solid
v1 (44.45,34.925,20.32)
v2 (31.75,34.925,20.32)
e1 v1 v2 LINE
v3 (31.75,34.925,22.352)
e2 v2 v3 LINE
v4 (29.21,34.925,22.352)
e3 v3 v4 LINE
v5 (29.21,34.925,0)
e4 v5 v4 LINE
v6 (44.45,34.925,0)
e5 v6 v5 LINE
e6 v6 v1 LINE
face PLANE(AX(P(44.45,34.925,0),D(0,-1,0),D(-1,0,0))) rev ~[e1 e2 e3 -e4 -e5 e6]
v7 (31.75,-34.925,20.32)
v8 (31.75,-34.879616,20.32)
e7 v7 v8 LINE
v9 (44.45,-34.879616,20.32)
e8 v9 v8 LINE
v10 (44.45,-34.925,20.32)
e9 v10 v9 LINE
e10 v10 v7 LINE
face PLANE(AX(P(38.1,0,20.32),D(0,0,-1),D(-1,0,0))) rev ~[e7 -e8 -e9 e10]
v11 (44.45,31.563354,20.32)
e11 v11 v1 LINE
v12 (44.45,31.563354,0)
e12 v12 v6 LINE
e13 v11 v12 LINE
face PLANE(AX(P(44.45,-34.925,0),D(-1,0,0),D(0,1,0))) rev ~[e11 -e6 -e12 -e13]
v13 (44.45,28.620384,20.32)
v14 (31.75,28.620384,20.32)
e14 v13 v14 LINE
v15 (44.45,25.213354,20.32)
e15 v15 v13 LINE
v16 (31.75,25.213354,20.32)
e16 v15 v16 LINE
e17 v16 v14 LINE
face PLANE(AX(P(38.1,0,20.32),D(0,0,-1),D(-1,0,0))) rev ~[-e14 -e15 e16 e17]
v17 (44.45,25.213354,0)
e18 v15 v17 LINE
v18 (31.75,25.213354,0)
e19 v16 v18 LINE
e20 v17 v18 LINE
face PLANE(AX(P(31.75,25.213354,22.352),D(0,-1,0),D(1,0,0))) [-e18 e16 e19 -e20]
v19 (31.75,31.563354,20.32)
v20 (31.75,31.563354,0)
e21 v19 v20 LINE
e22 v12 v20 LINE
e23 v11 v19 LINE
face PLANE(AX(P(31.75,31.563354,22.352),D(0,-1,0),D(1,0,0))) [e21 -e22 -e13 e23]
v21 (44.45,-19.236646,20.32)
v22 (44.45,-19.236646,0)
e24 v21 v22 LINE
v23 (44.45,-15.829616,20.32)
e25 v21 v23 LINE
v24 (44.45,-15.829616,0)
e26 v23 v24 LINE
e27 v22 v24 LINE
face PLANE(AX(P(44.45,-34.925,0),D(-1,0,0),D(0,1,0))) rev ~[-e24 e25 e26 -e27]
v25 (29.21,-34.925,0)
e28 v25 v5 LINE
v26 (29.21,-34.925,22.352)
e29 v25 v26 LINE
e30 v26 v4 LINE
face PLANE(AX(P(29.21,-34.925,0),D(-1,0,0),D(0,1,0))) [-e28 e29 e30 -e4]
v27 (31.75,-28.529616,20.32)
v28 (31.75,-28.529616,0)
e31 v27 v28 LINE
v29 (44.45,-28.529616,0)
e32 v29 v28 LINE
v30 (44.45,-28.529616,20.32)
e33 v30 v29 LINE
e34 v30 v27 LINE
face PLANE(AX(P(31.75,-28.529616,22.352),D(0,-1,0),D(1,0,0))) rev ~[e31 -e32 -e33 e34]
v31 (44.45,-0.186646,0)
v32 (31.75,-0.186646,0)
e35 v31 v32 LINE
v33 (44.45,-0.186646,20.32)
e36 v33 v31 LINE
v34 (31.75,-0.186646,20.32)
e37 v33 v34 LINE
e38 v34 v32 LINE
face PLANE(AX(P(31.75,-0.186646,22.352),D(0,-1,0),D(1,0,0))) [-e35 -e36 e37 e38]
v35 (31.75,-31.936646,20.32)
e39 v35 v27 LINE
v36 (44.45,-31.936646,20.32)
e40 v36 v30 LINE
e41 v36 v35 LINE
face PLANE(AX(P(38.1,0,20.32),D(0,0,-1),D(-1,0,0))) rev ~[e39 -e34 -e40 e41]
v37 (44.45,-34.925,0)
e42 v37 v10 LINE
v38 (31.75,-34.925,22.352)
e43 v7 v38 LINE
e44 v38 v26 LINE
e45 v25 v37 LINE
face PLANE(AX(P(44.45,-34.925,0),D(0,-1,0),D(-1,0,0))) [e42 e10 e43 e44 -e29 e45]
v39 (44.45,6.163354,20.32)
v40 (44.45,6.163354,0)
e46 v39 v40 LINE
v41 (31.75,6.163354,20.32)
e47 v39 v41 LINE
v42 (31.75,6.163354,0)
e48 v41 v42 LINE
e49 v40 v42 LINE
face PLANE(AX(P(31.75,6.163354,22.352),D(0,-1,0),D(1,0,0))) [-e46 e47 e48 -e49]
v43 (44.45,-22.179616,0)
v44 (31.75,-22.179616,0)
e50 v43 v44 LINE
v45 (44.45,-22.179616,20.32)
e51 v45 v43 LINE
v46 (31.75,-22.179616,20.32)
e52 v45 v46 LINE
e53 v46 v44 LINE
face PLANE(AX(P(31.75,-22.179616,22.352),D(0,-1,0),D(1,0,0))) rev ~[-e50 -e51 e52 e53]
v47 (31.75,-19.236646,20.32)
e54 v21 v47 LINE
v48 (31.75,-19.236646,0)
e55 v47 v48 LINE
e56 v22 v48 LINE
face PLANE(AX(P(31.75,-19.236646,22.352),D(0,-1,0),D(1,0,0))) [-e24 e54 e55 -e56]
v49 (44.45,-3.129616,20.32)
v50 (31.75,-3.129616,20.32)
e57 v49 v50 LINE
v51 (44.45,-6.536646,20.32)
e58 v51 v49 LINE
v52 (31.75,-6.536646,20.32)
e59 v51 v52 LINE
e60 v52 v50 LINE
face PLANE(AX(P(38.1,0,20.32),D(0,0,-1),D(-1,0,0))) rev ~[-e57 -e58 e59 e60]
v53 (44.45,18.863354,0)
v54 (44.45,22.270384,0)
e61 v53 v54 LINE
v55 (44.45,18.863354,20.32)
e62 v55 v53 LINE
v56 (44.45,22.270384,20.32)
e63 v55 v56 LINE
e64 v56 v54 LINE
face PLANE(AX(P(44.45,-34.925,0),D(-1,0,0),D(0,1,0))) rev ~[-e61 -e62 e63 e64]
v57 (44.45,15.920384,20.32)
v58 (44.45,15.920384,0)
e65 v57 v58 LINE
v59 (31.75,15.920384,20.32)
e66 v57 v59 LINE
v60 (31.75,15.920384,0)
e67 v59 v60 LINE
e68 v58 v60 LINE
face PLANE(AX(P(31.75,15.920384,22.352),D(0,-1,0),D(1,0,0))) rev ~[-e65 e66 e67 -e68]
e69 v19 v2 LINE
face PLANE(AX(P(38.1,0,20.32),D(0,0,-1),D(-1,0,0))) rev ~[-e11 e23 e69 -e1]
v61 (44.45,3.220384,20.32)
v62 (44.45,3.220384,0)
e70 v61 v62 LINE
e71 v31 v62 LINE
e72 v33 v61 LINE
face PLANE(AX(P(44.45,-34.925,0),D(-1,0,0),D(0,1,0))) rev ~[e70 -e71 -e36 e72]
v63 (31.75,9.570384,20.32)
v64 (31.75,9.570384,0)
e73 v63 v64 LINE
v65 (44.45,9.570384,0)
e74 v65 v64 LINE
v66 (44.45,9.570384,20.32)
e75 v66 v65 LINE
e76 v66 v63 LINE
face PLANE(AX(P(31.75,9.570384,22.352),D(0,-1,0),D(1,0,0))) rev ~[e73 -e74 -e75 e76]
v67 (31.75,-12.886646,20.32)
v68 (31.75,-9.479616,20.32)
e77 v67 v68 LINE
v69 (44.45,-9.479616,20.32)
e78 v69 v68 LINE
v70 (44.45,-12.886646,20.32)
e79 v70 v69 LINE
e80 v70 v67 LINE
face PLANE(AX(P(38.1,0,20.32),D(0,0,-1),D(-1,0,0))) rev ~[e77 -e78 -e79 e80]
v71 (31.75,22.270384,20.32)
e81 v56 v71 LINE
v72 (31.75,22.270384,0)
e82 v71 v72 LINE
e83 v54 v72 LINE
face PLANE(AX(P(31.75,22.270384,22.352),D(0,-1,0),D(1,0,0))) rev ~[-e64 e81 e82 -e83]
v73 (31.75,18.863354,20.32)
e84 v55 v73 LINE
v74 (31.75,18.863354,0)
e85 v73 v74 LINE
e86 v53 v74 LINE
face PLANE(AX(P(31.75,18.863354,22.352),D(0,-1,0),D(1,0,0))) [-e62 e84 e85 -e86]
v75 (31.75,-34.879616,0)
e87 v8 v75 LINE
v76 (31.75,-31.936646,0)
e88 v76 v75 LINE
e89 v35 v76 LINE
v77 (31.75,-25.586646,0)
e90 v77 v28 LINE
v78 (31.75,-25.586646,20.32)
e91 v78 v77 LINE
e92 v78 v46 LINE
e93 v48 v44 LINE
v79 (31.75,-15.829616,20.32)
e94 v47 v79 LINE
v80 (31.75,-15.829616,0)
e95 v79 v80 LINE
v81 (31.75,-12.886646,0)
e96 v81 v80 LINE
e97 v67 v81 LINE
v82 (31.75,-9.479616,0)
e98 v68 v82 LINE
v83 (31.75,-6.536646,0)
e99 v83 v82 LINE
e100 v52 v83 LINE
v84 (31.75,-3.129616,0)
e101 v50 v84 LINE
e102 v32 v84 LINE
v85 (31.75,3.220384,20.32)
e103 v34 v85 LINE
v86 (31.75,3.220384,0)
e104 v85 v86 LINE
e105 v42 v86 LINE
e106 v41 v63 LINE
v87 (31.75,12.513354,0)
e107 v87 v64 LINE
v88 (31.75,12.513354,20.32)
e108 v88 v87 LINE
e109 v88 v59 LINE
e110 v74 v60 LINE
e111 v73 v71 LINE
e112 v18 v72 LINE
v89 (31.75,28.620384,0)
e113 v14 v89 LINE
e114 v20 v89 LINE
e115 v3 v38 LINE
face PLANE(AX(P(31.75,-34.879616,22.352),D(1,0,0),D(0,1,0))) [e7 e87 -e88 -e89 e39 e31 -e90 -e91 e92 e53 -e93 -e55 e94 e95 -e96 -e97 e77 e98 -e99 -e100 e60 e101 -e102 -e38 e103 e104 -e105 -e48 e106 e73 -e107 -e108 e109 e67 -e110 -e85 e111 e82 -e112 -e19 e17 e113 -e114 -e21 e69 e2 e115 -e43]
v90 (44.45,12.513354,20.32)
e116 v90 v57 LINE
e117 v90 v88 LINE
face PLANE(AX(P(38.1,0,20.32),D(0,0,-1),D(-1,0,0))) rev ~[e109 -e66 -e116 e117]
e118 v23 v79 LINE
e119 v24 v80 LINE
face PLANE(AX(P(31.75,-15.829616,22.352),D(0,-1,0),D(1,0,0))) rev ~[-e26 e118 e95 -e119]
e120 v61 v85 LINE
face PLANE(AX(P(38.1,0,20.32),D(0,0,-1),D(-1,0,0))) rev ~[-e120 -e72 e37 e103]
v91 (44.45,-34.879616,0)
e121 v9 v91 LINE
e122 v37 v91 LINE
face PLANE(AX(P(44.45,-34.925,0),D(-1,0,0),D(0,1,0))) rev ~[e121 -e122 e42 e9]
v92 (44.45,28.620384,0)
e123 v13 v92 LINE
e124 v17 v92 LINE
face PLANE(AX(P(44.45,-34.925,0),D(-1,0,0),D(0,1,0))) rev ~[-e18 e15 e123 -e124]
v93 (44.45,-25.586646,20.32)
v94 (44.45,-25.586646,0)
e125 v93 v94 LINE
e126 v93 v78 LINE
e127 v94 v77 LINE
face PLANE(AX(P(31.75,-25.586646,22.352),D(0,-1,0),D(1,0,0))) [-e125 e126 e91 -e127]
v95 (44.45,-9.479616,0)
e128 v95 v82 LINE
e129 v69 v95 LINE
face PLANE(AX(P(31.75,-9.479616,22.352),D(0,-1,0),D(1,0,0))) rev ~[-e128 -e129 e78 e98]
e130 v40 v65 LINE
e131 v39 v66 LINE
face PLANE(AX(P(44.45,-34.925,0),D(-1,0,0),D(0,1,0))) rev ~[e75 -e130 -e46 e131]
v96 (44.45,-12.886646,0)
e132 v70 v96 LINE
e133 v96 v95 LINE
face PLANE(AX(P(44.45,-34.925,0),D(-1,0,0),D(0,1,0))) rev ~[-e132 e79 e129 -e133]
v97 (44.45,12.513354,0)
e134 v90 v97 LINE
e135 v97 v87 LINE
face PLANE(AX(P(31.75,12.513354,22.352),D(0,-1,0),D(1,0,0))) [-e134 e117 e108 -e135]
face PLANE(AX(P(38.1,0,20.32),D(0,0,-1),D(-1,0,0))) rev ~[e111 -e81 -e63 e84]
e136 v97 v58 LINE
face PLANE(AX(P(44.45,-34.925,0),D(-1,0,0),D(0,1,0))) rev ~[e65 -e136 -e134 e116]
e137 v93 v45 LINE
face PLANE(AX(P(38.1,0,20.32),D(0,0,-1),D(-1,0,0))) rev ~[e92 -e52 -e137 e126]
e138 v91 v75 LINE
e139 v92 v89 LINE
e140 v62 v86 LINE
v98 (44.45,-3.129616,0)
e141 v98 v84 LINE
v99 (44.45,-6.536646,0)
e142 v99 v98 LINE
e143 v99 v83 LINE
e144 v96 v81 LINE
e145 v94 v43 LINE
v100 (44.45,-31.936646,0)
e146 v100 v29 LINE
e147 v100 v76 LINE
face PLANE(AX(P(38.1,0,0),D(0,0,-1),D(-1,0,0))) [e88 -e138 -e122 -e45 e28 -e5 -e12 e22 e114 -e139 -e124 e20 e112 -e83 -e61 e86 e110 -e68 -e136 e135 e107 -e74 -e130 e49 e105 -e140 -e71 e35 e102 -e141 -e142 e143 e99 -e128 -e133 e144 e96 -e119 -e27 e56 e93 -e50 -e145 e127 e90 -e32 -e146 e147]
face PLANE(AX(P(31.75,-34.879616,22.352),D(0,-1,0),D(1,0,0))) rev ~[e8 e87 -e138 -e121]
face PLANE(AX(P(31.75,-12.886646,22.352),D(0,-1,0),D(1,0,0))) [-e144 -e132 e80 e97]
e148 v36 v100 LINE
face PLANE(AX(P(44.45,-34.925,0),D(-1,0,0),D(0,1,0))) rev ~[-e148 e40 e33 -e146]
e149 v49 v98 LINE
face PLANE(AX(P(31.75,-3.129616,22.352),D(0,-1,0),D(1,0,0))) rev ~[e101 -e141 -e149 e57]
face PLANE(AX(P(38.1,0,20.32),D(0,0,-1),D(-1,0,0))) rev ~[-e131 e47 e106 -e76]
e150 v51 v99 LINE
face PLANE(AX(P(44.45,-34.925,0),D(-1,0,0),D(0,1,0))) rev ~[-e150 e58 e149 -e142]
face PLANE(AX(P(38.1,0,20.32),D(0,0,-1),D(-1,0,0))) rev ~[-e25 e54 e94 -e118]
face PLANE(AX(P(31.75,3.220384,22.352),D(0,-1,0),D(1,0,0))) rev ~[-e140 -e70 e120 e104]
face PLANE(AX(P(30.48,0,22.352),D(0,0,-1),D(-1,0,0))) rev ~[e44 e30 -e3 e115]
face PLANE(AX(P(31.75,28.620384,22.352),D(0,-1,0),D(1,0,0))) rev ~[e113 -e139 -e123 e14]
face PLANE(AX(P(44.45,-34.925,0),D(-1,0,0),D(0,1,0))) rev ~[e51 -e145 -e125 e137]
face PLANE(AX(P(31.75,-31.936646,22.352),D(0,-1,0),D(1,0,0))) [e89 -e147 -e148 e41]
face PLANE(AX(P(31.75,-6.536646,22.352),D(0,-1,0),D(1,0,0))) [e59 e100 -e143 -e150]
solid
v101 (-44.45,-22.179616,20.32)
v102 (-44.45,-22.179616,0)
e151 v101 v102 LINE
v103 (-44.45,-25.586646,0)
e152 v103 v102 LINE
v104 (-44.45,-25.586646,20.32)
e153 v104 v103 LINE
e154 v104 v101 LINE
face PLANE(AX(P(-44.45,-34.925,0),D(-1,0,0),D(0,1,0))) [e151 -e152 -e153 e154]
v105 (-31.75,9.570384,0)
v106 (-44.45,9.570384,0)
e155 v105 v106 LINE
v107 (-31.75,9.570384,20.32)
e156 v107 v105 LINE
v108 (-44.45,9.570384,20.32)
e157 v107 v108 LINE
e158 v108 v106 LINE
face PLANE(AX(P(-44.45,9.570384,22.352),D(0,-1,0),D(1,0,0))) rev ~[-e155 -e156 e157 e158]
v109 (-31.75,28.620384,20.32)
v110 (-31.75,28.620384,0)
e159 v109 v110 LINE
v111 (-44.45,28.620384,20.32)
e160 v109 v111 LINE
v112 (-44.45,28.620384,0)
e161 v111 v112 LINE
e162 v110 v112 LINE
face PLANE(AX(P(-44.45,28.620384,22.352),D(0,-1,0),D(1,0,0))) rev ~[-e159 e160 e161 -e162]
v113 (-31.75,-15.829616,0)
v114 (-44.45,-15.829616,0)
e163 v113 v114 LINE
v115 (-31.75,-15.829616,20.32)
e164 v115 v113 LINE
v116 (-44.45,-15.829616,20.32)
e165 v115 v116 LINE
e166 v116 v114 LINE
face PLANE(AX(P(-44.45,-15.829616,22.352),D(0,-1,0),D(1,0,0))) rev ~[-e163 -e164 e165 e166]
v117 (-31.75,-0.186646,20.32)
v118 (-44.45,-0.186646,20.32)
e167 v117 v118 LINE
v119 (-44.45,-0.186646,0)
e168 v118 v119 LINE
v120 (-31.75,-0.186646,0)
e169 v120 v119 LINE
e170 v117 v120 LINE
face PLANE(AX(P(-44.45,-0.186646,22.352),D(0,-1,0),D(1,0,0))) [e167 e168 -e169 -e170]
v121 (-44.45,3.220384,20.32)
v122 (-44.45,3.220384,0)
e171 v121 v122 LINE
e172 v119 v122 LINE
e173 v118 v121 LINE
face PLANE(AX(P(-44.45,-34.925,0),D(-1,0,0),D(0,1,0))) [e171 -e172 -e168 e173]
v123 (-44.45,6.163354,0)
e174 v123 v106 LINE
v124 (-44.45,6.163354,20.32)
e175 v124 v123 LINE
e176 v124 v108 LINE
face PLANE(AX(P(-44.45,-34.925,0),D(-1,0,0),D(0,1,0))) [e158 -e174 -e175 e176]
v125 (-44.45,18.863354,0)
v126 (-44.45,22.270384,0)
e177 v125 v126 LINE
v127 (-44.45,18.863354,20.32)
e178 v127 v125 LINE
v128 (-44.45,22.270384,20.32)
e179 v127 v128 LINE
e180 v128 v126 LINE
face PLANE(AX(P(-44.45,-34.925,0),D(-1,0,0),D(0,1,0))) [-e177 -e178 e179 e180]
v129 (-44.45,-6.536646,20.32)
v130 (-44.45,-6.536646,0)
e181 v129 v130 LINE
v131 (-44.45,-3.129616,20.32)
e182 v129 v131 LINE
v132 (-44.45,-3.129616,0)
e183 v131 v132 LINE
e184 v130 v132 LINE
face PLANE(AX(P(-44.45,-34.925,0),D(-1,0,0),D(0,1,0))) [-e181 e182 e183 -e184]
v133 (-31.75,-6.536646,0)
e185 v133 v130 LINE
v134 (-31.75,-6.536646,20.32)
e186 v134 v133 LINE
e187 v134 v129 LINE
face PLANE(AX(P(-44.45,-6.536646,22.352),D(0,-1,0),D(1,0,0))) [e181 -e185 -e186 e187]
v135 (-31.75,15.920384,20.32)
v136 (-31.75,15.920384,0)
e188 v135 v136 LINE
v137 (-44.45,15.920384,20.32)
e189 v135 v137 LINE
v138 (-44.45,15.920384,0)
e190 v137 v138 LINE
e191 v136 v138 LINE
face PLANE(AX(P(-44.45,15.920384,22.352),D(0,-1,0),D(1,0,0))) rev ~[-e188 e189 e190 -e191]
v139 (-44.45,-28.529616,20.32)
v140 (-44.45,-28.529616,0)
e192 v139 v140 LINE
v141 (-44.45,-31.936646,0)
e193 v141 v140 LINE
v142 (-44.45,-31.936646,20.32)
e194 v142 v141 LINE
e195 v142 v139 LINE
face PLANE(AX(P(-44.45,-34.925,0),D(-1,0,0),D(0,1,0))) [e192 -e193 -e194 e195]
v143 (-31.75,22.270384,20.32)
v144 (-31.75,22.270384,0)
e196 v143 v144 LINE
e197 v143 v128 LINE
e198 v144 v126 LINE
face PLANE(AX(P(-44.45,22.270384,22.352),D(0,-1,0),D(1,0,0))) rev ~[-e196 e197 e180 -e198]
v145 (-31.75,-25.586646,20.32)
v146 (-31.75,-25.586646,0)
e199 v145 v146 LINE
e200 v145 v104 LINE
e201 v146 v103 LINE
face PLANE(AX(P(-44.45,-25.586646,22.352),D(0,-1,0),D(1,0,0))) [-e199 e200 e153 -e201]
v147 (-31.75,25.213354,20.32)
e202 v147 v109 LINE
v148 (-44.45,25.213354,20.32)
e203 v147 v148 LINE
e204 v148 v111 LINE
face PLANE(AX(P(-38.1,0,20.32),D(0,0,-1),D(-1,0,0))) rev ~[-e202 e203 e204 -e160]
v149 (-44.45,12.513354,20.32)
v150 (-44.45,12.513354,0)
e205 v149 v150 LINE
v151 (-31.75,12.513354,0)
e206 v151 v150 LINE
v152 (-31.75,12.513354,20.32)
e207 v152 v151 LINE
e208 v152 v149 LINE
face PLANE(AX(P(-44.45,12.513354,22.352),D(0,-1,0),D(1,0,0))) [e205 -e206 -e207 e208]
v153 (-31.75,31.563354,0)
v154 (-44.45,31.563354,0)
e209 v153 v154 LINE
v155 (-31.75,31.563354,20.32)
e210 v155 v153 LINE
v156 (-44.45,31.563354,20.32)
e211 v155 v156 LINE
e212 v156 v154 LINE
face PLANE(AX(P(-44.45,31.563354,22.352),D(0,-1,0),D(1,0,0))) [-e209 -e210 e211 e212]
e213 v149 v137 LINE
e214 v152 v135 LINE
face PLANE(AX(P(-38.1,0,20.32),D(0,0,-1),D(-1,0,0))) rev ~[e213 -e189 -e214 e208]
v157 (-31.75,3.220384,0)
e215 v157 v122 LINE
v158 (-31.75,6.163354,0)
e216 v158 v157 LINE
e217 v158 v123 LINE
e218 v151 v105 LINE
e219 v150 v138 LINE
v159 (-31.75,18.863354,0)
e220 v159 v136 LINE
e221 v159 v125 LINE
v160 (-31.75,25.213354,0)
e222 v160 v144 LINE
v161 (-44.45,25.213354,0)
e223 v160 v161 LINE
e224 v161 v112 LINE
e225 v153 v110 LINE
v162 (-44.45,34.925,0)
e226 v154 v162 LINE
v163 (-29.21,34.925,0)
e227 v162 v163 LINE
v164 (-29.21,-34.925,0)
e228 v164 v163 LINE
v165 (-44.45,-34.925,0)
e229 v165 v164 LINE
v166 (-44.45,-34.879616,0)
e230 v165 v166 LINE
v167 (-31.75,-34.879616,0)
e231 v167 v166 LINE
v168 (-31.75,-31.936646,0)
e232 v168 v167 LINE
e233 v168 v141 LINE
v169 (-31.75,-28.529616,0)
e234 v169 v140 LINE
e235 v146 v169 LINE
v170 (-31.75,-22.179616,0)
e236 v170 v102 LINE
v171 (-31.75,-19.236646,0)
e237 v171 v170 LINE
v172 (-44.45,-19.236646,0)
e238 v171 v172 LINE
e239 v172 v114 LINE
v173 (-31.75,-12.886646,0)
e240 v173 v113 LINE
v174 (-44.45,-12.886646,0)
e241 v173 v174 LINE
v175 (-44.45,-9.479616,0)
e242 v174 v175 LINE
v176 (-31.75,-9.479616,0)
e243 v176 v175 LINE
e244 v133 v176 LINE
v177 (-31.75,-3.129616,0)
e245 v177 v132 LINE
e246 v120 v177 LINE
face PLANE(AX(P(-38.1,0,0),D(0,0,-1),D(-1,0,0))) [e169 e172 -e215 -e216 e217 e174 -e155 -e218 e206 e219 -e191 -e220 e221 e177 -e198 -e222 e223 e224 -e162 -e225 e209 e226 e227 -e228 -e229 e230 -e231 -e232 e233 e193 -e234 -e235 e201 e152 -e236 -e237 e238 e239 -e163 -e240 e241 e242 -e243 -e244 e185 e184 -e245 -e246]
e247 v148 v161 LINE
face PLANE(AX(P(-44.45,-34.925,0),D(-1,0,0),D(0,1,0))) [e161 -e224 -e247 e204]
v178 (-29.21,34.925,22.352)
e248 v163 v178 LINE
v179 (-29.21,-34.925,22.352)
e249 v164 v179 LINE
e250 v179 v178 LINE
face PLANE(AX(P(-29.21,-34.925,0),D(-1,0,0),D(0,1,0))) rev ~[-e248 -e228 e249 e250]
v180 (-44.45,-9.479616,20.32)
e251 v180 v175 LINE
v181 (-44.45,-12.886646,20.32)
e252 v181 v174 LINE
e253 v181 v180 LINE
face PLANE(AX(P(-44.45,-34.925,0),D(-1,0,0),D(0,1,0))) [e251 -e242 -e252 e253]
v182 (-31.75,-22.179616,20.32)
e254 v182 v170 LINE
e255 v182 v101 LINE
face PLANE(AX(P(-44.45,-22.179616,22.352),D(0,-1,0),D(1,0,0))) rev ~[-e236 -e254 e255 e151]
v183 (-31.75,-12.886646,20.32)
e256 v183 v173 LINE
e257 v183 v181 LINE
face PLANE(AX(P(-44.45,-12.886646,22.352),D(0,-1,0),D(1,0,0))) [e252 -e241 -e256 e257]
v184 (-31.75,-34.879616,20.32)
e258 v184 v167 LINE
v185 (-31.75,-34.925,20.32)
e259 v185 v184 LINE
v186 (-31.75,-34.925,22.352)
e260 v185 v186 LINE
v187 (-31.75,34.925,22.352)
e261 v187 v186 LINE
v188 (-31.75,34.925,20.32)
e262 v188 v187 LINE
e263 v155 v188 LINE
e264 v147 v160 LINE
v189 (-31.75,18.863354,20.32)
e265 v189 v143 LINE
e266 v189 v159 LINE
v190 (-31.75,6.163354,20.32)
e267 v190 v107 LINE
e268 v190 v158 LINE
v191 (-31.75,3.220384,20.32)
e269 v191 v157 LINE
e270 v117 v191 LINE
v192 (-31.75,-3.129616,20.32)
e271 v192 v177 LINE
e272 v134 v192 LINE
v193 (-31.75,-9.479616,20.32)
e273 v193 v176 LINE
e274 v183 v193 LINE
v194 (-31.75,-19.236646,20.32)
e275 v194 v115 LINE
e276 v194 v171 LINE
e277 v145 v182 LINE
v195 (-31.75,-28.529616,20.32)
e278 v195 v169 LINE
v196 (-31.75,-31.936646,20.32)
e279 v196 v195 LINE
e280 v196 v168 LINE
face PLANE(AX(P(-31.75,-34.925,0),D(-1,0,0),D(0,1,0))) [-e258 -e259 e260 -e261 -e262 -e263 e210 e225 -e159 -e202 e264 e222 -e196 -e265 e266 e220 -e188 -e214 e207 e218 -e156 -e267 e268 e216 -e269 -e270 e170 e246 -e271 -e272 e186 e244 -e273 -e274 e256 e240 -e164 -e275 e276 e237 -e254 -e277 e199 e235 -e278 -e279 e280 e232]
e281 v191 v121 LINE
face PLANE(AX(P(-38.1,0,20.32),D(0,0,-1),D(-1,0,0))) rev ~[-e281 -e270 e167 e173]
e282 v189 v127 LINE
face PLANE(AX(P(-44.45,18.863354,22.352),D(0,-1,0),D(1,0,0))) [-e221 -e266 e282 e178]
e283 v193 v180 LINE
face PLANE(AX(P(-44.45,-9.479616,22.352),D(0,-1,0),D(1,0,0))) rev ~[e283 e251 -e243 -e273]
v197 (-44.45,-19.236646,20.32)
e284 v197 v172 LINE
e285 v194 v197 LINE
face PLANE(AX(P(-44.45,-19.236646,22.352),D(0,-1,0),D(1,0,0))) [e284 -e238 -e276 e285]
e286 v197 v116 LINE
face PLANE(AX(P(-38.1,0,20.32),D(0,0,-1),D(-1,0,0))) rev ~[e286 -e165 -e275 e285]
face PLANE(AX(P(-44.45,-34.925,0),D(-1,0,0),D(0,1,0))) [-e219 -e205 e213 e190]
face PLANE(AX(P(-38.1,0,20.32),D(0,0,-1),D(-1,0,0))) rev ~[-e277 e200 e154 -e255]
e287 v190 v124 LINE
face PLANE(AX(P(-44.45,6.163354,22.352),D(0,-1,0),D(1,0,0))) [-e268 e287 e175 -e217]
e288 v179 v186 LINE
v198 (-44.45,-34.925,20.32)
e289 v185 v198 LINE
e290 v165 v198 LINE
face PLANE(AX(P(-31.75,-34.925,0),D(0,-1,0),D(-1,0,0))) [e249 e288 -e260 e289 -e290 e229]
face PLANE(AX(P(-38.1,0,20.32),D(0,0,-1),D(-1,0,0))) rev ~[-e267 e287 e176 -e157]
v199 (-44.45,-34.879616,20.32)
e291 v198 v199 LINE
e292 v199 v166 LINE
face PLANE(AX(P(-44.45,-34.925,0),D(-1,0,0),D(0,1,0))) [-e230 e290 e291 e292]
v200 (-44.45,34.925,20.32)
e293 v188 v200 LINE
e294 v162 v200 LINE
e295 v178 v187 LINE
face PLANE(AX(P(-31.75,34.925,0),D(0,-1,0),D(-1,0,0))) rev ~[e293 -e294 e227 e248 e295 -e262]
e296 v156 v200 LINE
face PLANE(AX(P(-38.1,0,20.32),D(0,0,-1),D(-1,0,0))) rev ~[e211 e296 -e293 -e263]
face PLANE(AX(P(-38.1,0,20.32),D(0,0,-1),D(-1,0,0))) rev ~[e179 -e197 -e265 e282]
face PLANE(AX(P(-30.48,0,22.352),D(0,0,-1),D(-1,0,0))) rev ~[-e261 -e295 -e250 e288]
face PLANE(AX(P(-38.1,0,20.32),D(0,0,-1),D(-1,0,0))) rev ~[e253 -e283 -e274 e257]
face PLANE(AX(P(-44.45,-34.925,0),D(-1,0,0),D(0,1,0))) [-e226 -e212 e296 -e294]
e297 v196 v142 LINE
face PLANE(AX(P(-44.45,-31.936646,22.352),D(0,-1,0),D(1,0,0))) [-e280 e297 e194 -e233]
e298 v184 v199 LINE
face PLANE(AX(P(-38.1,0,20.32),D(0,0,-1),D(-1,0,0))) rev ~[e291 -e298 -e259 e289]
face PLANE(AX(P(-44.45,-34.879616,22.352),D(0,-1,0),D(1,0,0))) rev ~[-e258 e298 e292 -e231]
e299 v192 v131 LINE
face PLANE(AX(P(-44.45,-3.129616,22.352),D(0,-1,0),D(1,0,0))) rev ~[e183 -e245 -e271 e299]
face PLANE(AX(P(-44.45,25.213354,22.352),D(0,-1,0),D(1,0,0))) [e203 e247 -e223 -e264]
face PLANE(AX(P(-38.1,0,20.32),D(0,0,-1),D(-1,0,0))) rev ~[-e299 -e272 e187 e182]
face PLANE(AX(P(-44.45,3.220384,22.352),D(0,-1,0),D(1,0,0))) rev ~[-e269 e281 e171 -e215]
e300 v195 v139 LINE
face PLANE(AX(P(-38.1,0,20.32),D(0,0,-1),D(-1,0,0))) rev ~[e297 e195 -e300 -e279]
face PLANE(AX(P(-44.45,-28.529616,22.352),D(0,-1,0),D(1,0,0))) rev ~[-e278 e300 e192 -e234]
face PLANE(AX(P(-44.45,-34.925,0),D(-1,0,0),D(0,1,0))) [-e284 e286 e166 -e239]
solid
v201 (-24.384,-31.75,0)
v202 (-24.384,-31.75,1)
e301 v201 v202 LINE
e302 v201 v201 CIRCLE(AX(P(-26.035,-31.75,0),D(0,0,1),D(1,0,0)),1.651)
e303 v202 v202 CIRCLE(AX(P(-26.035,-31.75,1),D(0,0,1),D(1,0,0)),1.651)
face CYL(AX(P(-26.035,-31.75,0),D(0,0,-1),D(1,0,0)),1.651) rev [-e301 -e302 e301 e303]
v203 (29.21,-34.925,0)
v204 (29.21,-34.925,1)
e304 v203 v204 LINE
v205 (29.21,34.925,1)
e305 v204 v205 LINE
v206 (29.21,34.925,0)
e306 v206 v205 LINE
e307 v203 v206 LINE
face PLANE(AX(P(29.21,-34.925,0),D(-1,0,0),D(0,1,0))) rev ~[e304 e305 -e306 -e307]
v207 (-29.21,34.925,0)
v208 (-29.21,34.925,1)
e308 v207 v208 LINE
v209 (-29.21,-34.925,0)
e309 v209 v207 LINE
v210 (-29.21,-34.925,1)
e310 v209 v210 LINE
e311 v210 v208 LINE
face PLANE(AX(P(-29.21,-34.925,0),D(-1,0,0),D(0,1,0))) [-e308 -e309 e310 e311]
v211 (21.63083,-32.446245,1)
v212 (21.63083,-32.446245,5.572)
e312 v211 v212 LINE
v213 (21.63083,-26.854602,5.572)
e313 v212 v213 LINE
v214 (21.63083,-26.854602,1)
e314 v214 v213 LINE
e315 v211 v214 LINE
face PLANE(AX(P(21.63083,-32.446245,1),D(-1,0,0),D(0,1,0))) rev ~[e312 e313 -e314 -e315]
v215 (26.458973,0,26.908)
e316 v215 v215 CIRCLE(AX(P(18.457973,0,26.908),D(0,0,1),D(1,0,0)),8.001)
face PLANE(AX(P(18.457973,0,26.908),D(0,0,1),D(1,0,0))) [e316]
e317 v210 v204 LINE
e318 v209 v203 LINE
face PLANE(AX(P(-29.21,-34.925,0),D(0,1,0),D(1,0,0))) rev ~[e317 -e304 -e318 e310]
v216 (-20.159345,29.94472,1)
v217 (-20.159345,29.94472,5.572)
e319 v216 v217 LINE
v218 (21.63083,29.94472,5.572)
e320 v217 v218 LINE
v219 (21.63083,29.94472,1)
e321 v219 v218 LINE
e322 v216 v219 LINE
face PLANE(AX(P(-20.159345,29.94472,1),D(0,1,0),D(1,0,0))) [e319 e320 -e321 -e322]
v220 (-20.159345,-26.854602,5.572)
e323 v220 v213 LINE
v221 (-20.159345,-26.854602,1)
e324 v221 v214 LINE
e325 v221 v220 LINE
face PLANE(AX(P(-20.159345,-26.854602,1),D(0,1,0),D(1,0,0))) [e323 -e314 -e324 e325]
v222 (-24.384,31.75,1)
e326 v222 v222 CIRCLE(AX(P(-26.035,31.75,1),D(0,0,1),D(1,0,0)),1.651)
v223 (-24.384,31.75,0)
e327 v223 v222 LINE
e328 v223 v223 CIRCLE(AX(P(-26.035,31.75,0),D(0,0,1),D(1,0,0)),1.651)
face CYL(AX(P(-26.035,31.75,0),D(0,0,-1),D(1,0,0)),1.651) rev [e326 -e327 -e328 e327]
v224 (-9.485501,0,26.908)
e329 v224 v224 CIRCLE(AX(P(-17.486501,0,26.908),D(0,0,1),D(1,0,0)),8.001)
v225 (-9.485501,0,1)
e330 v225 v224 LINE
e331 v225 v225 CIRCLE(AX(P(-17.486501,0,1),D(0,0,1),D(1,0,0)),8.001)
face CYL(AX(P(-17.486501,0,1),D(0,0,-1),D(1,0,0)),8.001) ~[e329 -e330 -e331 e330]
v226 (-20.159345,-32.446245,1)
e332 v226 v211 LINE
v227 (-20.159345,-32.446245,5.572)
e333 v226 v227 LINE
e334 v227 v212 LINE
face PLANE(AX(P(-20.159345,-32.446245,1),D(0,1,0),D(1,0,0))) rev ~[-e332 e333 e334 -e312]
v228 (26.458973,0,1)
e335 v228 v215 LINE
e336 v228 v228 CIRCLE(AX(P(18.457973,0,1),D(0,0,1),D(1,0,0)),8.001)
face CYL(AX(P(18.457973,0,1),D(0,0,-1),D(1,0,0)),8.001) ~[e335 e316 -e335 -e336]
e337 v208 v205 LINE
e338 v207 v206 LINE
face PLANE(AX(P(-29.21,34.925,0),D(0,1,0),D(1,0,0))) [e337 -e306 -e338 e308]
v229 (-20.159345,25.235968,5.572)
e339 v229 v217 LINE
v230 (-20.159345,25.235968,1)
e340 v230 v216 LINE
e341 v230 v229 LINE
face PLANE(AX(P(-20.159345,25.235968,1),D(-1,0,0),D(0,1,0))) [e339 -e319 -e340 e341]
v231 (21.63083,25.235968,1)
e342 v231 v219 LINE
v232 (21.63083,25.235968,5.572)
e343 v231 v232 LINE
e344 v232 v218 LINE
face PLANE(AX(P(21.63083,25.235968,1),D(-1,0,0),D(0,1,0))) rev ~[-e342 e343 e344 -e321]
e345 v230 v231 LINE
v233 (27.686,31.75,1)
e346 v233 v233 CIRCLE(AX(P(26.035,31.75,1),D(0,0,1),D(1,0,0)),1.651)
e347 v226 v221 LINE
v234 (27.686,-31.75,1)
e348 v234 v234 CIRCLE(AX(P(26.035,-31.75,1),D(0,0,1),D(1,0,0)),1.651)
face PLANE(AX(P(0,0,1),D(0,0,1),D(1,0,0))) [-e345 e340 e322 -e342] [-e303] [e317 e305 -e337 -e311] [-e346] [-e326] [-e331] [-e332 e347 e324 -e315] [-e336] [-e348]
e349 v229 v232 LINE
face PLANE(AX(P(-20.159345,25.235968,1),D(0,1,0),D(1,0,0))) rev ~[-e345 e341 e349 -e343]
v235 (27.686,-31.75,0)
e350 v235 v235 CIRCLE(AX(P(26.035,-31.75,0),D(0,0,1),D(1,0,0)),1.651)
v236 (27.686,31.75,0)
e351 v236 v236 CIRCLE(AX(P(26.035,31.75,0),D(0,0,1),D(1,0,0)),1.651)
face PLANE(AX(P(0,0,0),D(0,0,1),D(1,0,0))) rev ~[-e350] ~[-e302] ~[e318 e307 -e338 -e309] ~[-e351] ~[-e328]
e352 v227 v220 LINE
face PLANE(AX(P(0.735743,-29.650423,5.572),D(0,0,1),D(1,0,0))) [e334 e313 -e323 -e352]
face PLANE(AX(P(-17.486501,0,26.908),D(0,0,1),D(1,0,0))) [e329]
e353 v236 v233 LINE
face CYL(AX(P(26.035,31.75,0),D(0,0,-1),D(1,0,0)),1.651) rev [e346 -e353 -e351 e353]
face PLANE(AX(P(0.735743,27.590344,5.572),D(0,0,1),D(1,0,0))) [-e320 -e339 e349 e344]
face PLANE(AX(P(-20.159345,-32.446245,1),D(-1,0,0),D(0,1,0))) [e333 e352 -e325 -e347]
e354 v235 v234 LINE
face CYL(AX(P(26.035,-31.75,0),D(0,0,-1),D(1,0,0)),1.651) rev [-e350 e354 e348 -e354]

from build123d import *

# Parameters (mm, degrees)
SKETCH1_W             = 58.42
SKETCH1_H             = 69.85
SKETCH1_R             = 1.651
BOSS_EXTRUDE1_DEPTH   = 1
SKETCH2_W             = 2.54
SKETCH2_H             = 69.85
BOSS_EXTRUDE2_DEPTH   = 22.352
BOSS_EXTRUDE2_2_DEPTH = 22.352
SKETCH2_3_W           = 12.7
SKETCH2_3_H           = 69.85
BOSS_EXTRUDE3_DEPTH   = 20.32
SKETCH3_W             = 12.7
SKETCH3_H             = 2.942970032
CUT_EXTRUDE3_DEPTH    = 37.084
SKETCH4_R             = 8.001
BOSS_EXTRUDE4_DEPTH   = 25.908
SKETCH5_W             = 41.790174447
SKETCH5_H             = 4.70875205
SKETCH5_H_2           = 5.59164306
BOSS_EXTRUDE5_DEPTH   = 4.572


with BuildPart() as part:
    # Sketch1 → Boss-Extrude1 (new body)
    with BuildSketch(Plane.XY):
        Rectangle(SKETCH1_W, SKETCH1_H)
        with Locations((-26.035, 31.75)):
            Circle(SKETCH1_R, mode=Mode.SUBTRACT)
        with Locations((-26.035, -31.75)):
            Circle(SKETCH1_R, mode=Mode.SUBTRACT)
        with Locations((26.035, -31.75)):
            Circle(SKETCH1_R, mode=Mode.SUBTRACT)
        with Locations((26.035, 31.75)):
            Circle(SKETCH1_R, mode=Mode.SUBTRACT)
    extrude(amount=BOSS_EXTRUDE1_DEPTH)

    # Sketch4 → Boss-Extrude4 (add)
    with BuildSketch(Plane.XY.offset(1)):
        with Locations((-17.486501, 0)):
            Circle(SKETCH4_R)
        with Locations((18.457973277, 0)):
            Circle(SKETCH4_R)
    extrude(amount=BOSS_EXTRUDE4_DEPTH)

    # Sketch5 → Boss-Extrude5 (add)
    with BuildSketch(Plane.XY.offset(1)):
        with Locations((0.735742508, 27.590344045)):
            Rectangle(SKETCH5_W, SKETCH5_H)
        with Locations((0.735742508, -29.650423067)):
            Rectangle(SKETCH5_W, SKETCH5_H_2)
    extrude(amount=BOSS_EXTRUDE5_DEPTH)


with BuildPart() as body_2:
    # Sketch2 → Boss-Extrude2 (new body)
    with BuildSketch(Plane(origin=(0, 0, 0), x_dir=(-1, 0, 0), z_dir=(0, 0, -1))):
        with Locations((30.48, 0)):
            Rectangle(SKETCH2_W, SKETCH2_H)
    extrude(amount=-BOSS_EXTRUDE2_DEPTH)



with BuildPart() as body_3:
    # Sketch2 → Boss-Extrude2 2 (new body)
    with BuildSketch(Plane(origin=(0, 0, 0), x_dir=(-1, 0, 0), z_dir=(0, 0, -1))):
        with Locations((-30.48, 0)):
            Rectangle(SKETCH2_W, SKETCH2_H)
    extrude(amount=-BOSS_EXTRUDE2_2_DEPTH)


with BuildPart() as body_2_1:
    add(body_2.part)

    add(body_3.part)  # Boss-Extrude3 merges body 3
    # Sketch2<3> → Boss-Extrude3 (add)
    with BuildSketch(Plane(origin=(0, 0, 0), x_dir=(-1, 0, 0), z_dir=(0, 0, -1))):
        with Locations((38.1, 0)):
            Rectangle(SKETCH2_3_W, SKETCH2_3_H)
        with Locations((-38.1, 0)):
            Rectangle(SKETCH2_3_W, SKETCH2_3_H)
    extrude(amount=-BOSS_EXTRUDE3_DEPTH)

    # Sketch3 → Cut-Extrude3 (cut)
    with BuildSketch(Plane.XY.offset(22.352)):
        with Locations((-38.1, 30.091868572)):
            Rectangle(SKETCH3_W, SKETCH3_H)
        with Locations((-38.1, 23.741868572)):
            Rectangle(SKETCH3_W, SKETCH3_H)
        with Locations((-38.1, 17.391868572)):
            Rectangle(SKETCH3_W, SKETCH3_H)
        with Locations((-38.1, 11.041868572)):
            Rectangle(SKETCH3_W, SKETCH3_H)
        with Locations((-38.1, 4.691868572)):
            Rectangle(SKETCH3_W, SKETCH3_H)
        with Locations((-38.1, -8.008131428)):
            Rectangle(SKETCH3_W, SKETCH3_H)
        with Locations((-38.1, -14.358131428)):
            Rectangle(SKETCH3_W, SKETCH3_H)
        with Locations((-38.1, -20.708131428)):
            Rectangle(SKETCH3_W, SKETCH3_H)
        with Locations((-38.1, -27.058131428)):
            Rectangle(SKETCH3_W, SKETCH3_H)
        with Locations((38.1, -33.408131428)):
            Rectangle(SKETCH3_W, SKETCH3_H)
        with Locations((38.1, -27.058131428)):
            Rectangle(SKETCH3_W, SKETCH3_H)
        with Locations((38.1, -20.708131428)):
            Rectangle(SKETCH3_W, SKETCH3_H)
        with Locations((38.1, -1.658131428)):
            Rectangle(SKETCH3_W, SKETCH3_H)
        with Locations((38.1, 4.691868572)):
            Rectangle(SKETCH3_W, SKETCH3_H)
        with Locations((38.1, 11.041868572)):
            Rectangle(SKETCH3_W, SKETCH3_H)
        with Locations((38.1, 17.391868572)):
            Rectangle(SKETCH3_W, SKETCH3_H)
        with Locations((38.1, 30.091868572)):
            Rectangle(SKETCH3_W, SKETCH3_H)
        with Locations((-38.1, -1.658131428)):
            Rectangle(SKETCH3_W, SKETCH3_H)
        with Locations((-38.1, -33.408131428)):
            Rectangle(SKETCH3_W, SKETCH3_H)
        with Locations((38.1, -14.358131428)):
            Rectangle(SKETCH3_W, SKETCH3_H)
        with Locations((38.1, -8.008131428)):
            Rectangle(SKETCH3_W, SKETCH3_H)
        with Locations((38.1, 23.741868572)):
            Rectangle(SKETCH3_W, SKETCH3_H)
    extrude(amount=-CUT_EXTRUDE3_DEPTH, mode=Mode.SUBTRACT)


solid = Compound([part.part, body_2_1.part])
